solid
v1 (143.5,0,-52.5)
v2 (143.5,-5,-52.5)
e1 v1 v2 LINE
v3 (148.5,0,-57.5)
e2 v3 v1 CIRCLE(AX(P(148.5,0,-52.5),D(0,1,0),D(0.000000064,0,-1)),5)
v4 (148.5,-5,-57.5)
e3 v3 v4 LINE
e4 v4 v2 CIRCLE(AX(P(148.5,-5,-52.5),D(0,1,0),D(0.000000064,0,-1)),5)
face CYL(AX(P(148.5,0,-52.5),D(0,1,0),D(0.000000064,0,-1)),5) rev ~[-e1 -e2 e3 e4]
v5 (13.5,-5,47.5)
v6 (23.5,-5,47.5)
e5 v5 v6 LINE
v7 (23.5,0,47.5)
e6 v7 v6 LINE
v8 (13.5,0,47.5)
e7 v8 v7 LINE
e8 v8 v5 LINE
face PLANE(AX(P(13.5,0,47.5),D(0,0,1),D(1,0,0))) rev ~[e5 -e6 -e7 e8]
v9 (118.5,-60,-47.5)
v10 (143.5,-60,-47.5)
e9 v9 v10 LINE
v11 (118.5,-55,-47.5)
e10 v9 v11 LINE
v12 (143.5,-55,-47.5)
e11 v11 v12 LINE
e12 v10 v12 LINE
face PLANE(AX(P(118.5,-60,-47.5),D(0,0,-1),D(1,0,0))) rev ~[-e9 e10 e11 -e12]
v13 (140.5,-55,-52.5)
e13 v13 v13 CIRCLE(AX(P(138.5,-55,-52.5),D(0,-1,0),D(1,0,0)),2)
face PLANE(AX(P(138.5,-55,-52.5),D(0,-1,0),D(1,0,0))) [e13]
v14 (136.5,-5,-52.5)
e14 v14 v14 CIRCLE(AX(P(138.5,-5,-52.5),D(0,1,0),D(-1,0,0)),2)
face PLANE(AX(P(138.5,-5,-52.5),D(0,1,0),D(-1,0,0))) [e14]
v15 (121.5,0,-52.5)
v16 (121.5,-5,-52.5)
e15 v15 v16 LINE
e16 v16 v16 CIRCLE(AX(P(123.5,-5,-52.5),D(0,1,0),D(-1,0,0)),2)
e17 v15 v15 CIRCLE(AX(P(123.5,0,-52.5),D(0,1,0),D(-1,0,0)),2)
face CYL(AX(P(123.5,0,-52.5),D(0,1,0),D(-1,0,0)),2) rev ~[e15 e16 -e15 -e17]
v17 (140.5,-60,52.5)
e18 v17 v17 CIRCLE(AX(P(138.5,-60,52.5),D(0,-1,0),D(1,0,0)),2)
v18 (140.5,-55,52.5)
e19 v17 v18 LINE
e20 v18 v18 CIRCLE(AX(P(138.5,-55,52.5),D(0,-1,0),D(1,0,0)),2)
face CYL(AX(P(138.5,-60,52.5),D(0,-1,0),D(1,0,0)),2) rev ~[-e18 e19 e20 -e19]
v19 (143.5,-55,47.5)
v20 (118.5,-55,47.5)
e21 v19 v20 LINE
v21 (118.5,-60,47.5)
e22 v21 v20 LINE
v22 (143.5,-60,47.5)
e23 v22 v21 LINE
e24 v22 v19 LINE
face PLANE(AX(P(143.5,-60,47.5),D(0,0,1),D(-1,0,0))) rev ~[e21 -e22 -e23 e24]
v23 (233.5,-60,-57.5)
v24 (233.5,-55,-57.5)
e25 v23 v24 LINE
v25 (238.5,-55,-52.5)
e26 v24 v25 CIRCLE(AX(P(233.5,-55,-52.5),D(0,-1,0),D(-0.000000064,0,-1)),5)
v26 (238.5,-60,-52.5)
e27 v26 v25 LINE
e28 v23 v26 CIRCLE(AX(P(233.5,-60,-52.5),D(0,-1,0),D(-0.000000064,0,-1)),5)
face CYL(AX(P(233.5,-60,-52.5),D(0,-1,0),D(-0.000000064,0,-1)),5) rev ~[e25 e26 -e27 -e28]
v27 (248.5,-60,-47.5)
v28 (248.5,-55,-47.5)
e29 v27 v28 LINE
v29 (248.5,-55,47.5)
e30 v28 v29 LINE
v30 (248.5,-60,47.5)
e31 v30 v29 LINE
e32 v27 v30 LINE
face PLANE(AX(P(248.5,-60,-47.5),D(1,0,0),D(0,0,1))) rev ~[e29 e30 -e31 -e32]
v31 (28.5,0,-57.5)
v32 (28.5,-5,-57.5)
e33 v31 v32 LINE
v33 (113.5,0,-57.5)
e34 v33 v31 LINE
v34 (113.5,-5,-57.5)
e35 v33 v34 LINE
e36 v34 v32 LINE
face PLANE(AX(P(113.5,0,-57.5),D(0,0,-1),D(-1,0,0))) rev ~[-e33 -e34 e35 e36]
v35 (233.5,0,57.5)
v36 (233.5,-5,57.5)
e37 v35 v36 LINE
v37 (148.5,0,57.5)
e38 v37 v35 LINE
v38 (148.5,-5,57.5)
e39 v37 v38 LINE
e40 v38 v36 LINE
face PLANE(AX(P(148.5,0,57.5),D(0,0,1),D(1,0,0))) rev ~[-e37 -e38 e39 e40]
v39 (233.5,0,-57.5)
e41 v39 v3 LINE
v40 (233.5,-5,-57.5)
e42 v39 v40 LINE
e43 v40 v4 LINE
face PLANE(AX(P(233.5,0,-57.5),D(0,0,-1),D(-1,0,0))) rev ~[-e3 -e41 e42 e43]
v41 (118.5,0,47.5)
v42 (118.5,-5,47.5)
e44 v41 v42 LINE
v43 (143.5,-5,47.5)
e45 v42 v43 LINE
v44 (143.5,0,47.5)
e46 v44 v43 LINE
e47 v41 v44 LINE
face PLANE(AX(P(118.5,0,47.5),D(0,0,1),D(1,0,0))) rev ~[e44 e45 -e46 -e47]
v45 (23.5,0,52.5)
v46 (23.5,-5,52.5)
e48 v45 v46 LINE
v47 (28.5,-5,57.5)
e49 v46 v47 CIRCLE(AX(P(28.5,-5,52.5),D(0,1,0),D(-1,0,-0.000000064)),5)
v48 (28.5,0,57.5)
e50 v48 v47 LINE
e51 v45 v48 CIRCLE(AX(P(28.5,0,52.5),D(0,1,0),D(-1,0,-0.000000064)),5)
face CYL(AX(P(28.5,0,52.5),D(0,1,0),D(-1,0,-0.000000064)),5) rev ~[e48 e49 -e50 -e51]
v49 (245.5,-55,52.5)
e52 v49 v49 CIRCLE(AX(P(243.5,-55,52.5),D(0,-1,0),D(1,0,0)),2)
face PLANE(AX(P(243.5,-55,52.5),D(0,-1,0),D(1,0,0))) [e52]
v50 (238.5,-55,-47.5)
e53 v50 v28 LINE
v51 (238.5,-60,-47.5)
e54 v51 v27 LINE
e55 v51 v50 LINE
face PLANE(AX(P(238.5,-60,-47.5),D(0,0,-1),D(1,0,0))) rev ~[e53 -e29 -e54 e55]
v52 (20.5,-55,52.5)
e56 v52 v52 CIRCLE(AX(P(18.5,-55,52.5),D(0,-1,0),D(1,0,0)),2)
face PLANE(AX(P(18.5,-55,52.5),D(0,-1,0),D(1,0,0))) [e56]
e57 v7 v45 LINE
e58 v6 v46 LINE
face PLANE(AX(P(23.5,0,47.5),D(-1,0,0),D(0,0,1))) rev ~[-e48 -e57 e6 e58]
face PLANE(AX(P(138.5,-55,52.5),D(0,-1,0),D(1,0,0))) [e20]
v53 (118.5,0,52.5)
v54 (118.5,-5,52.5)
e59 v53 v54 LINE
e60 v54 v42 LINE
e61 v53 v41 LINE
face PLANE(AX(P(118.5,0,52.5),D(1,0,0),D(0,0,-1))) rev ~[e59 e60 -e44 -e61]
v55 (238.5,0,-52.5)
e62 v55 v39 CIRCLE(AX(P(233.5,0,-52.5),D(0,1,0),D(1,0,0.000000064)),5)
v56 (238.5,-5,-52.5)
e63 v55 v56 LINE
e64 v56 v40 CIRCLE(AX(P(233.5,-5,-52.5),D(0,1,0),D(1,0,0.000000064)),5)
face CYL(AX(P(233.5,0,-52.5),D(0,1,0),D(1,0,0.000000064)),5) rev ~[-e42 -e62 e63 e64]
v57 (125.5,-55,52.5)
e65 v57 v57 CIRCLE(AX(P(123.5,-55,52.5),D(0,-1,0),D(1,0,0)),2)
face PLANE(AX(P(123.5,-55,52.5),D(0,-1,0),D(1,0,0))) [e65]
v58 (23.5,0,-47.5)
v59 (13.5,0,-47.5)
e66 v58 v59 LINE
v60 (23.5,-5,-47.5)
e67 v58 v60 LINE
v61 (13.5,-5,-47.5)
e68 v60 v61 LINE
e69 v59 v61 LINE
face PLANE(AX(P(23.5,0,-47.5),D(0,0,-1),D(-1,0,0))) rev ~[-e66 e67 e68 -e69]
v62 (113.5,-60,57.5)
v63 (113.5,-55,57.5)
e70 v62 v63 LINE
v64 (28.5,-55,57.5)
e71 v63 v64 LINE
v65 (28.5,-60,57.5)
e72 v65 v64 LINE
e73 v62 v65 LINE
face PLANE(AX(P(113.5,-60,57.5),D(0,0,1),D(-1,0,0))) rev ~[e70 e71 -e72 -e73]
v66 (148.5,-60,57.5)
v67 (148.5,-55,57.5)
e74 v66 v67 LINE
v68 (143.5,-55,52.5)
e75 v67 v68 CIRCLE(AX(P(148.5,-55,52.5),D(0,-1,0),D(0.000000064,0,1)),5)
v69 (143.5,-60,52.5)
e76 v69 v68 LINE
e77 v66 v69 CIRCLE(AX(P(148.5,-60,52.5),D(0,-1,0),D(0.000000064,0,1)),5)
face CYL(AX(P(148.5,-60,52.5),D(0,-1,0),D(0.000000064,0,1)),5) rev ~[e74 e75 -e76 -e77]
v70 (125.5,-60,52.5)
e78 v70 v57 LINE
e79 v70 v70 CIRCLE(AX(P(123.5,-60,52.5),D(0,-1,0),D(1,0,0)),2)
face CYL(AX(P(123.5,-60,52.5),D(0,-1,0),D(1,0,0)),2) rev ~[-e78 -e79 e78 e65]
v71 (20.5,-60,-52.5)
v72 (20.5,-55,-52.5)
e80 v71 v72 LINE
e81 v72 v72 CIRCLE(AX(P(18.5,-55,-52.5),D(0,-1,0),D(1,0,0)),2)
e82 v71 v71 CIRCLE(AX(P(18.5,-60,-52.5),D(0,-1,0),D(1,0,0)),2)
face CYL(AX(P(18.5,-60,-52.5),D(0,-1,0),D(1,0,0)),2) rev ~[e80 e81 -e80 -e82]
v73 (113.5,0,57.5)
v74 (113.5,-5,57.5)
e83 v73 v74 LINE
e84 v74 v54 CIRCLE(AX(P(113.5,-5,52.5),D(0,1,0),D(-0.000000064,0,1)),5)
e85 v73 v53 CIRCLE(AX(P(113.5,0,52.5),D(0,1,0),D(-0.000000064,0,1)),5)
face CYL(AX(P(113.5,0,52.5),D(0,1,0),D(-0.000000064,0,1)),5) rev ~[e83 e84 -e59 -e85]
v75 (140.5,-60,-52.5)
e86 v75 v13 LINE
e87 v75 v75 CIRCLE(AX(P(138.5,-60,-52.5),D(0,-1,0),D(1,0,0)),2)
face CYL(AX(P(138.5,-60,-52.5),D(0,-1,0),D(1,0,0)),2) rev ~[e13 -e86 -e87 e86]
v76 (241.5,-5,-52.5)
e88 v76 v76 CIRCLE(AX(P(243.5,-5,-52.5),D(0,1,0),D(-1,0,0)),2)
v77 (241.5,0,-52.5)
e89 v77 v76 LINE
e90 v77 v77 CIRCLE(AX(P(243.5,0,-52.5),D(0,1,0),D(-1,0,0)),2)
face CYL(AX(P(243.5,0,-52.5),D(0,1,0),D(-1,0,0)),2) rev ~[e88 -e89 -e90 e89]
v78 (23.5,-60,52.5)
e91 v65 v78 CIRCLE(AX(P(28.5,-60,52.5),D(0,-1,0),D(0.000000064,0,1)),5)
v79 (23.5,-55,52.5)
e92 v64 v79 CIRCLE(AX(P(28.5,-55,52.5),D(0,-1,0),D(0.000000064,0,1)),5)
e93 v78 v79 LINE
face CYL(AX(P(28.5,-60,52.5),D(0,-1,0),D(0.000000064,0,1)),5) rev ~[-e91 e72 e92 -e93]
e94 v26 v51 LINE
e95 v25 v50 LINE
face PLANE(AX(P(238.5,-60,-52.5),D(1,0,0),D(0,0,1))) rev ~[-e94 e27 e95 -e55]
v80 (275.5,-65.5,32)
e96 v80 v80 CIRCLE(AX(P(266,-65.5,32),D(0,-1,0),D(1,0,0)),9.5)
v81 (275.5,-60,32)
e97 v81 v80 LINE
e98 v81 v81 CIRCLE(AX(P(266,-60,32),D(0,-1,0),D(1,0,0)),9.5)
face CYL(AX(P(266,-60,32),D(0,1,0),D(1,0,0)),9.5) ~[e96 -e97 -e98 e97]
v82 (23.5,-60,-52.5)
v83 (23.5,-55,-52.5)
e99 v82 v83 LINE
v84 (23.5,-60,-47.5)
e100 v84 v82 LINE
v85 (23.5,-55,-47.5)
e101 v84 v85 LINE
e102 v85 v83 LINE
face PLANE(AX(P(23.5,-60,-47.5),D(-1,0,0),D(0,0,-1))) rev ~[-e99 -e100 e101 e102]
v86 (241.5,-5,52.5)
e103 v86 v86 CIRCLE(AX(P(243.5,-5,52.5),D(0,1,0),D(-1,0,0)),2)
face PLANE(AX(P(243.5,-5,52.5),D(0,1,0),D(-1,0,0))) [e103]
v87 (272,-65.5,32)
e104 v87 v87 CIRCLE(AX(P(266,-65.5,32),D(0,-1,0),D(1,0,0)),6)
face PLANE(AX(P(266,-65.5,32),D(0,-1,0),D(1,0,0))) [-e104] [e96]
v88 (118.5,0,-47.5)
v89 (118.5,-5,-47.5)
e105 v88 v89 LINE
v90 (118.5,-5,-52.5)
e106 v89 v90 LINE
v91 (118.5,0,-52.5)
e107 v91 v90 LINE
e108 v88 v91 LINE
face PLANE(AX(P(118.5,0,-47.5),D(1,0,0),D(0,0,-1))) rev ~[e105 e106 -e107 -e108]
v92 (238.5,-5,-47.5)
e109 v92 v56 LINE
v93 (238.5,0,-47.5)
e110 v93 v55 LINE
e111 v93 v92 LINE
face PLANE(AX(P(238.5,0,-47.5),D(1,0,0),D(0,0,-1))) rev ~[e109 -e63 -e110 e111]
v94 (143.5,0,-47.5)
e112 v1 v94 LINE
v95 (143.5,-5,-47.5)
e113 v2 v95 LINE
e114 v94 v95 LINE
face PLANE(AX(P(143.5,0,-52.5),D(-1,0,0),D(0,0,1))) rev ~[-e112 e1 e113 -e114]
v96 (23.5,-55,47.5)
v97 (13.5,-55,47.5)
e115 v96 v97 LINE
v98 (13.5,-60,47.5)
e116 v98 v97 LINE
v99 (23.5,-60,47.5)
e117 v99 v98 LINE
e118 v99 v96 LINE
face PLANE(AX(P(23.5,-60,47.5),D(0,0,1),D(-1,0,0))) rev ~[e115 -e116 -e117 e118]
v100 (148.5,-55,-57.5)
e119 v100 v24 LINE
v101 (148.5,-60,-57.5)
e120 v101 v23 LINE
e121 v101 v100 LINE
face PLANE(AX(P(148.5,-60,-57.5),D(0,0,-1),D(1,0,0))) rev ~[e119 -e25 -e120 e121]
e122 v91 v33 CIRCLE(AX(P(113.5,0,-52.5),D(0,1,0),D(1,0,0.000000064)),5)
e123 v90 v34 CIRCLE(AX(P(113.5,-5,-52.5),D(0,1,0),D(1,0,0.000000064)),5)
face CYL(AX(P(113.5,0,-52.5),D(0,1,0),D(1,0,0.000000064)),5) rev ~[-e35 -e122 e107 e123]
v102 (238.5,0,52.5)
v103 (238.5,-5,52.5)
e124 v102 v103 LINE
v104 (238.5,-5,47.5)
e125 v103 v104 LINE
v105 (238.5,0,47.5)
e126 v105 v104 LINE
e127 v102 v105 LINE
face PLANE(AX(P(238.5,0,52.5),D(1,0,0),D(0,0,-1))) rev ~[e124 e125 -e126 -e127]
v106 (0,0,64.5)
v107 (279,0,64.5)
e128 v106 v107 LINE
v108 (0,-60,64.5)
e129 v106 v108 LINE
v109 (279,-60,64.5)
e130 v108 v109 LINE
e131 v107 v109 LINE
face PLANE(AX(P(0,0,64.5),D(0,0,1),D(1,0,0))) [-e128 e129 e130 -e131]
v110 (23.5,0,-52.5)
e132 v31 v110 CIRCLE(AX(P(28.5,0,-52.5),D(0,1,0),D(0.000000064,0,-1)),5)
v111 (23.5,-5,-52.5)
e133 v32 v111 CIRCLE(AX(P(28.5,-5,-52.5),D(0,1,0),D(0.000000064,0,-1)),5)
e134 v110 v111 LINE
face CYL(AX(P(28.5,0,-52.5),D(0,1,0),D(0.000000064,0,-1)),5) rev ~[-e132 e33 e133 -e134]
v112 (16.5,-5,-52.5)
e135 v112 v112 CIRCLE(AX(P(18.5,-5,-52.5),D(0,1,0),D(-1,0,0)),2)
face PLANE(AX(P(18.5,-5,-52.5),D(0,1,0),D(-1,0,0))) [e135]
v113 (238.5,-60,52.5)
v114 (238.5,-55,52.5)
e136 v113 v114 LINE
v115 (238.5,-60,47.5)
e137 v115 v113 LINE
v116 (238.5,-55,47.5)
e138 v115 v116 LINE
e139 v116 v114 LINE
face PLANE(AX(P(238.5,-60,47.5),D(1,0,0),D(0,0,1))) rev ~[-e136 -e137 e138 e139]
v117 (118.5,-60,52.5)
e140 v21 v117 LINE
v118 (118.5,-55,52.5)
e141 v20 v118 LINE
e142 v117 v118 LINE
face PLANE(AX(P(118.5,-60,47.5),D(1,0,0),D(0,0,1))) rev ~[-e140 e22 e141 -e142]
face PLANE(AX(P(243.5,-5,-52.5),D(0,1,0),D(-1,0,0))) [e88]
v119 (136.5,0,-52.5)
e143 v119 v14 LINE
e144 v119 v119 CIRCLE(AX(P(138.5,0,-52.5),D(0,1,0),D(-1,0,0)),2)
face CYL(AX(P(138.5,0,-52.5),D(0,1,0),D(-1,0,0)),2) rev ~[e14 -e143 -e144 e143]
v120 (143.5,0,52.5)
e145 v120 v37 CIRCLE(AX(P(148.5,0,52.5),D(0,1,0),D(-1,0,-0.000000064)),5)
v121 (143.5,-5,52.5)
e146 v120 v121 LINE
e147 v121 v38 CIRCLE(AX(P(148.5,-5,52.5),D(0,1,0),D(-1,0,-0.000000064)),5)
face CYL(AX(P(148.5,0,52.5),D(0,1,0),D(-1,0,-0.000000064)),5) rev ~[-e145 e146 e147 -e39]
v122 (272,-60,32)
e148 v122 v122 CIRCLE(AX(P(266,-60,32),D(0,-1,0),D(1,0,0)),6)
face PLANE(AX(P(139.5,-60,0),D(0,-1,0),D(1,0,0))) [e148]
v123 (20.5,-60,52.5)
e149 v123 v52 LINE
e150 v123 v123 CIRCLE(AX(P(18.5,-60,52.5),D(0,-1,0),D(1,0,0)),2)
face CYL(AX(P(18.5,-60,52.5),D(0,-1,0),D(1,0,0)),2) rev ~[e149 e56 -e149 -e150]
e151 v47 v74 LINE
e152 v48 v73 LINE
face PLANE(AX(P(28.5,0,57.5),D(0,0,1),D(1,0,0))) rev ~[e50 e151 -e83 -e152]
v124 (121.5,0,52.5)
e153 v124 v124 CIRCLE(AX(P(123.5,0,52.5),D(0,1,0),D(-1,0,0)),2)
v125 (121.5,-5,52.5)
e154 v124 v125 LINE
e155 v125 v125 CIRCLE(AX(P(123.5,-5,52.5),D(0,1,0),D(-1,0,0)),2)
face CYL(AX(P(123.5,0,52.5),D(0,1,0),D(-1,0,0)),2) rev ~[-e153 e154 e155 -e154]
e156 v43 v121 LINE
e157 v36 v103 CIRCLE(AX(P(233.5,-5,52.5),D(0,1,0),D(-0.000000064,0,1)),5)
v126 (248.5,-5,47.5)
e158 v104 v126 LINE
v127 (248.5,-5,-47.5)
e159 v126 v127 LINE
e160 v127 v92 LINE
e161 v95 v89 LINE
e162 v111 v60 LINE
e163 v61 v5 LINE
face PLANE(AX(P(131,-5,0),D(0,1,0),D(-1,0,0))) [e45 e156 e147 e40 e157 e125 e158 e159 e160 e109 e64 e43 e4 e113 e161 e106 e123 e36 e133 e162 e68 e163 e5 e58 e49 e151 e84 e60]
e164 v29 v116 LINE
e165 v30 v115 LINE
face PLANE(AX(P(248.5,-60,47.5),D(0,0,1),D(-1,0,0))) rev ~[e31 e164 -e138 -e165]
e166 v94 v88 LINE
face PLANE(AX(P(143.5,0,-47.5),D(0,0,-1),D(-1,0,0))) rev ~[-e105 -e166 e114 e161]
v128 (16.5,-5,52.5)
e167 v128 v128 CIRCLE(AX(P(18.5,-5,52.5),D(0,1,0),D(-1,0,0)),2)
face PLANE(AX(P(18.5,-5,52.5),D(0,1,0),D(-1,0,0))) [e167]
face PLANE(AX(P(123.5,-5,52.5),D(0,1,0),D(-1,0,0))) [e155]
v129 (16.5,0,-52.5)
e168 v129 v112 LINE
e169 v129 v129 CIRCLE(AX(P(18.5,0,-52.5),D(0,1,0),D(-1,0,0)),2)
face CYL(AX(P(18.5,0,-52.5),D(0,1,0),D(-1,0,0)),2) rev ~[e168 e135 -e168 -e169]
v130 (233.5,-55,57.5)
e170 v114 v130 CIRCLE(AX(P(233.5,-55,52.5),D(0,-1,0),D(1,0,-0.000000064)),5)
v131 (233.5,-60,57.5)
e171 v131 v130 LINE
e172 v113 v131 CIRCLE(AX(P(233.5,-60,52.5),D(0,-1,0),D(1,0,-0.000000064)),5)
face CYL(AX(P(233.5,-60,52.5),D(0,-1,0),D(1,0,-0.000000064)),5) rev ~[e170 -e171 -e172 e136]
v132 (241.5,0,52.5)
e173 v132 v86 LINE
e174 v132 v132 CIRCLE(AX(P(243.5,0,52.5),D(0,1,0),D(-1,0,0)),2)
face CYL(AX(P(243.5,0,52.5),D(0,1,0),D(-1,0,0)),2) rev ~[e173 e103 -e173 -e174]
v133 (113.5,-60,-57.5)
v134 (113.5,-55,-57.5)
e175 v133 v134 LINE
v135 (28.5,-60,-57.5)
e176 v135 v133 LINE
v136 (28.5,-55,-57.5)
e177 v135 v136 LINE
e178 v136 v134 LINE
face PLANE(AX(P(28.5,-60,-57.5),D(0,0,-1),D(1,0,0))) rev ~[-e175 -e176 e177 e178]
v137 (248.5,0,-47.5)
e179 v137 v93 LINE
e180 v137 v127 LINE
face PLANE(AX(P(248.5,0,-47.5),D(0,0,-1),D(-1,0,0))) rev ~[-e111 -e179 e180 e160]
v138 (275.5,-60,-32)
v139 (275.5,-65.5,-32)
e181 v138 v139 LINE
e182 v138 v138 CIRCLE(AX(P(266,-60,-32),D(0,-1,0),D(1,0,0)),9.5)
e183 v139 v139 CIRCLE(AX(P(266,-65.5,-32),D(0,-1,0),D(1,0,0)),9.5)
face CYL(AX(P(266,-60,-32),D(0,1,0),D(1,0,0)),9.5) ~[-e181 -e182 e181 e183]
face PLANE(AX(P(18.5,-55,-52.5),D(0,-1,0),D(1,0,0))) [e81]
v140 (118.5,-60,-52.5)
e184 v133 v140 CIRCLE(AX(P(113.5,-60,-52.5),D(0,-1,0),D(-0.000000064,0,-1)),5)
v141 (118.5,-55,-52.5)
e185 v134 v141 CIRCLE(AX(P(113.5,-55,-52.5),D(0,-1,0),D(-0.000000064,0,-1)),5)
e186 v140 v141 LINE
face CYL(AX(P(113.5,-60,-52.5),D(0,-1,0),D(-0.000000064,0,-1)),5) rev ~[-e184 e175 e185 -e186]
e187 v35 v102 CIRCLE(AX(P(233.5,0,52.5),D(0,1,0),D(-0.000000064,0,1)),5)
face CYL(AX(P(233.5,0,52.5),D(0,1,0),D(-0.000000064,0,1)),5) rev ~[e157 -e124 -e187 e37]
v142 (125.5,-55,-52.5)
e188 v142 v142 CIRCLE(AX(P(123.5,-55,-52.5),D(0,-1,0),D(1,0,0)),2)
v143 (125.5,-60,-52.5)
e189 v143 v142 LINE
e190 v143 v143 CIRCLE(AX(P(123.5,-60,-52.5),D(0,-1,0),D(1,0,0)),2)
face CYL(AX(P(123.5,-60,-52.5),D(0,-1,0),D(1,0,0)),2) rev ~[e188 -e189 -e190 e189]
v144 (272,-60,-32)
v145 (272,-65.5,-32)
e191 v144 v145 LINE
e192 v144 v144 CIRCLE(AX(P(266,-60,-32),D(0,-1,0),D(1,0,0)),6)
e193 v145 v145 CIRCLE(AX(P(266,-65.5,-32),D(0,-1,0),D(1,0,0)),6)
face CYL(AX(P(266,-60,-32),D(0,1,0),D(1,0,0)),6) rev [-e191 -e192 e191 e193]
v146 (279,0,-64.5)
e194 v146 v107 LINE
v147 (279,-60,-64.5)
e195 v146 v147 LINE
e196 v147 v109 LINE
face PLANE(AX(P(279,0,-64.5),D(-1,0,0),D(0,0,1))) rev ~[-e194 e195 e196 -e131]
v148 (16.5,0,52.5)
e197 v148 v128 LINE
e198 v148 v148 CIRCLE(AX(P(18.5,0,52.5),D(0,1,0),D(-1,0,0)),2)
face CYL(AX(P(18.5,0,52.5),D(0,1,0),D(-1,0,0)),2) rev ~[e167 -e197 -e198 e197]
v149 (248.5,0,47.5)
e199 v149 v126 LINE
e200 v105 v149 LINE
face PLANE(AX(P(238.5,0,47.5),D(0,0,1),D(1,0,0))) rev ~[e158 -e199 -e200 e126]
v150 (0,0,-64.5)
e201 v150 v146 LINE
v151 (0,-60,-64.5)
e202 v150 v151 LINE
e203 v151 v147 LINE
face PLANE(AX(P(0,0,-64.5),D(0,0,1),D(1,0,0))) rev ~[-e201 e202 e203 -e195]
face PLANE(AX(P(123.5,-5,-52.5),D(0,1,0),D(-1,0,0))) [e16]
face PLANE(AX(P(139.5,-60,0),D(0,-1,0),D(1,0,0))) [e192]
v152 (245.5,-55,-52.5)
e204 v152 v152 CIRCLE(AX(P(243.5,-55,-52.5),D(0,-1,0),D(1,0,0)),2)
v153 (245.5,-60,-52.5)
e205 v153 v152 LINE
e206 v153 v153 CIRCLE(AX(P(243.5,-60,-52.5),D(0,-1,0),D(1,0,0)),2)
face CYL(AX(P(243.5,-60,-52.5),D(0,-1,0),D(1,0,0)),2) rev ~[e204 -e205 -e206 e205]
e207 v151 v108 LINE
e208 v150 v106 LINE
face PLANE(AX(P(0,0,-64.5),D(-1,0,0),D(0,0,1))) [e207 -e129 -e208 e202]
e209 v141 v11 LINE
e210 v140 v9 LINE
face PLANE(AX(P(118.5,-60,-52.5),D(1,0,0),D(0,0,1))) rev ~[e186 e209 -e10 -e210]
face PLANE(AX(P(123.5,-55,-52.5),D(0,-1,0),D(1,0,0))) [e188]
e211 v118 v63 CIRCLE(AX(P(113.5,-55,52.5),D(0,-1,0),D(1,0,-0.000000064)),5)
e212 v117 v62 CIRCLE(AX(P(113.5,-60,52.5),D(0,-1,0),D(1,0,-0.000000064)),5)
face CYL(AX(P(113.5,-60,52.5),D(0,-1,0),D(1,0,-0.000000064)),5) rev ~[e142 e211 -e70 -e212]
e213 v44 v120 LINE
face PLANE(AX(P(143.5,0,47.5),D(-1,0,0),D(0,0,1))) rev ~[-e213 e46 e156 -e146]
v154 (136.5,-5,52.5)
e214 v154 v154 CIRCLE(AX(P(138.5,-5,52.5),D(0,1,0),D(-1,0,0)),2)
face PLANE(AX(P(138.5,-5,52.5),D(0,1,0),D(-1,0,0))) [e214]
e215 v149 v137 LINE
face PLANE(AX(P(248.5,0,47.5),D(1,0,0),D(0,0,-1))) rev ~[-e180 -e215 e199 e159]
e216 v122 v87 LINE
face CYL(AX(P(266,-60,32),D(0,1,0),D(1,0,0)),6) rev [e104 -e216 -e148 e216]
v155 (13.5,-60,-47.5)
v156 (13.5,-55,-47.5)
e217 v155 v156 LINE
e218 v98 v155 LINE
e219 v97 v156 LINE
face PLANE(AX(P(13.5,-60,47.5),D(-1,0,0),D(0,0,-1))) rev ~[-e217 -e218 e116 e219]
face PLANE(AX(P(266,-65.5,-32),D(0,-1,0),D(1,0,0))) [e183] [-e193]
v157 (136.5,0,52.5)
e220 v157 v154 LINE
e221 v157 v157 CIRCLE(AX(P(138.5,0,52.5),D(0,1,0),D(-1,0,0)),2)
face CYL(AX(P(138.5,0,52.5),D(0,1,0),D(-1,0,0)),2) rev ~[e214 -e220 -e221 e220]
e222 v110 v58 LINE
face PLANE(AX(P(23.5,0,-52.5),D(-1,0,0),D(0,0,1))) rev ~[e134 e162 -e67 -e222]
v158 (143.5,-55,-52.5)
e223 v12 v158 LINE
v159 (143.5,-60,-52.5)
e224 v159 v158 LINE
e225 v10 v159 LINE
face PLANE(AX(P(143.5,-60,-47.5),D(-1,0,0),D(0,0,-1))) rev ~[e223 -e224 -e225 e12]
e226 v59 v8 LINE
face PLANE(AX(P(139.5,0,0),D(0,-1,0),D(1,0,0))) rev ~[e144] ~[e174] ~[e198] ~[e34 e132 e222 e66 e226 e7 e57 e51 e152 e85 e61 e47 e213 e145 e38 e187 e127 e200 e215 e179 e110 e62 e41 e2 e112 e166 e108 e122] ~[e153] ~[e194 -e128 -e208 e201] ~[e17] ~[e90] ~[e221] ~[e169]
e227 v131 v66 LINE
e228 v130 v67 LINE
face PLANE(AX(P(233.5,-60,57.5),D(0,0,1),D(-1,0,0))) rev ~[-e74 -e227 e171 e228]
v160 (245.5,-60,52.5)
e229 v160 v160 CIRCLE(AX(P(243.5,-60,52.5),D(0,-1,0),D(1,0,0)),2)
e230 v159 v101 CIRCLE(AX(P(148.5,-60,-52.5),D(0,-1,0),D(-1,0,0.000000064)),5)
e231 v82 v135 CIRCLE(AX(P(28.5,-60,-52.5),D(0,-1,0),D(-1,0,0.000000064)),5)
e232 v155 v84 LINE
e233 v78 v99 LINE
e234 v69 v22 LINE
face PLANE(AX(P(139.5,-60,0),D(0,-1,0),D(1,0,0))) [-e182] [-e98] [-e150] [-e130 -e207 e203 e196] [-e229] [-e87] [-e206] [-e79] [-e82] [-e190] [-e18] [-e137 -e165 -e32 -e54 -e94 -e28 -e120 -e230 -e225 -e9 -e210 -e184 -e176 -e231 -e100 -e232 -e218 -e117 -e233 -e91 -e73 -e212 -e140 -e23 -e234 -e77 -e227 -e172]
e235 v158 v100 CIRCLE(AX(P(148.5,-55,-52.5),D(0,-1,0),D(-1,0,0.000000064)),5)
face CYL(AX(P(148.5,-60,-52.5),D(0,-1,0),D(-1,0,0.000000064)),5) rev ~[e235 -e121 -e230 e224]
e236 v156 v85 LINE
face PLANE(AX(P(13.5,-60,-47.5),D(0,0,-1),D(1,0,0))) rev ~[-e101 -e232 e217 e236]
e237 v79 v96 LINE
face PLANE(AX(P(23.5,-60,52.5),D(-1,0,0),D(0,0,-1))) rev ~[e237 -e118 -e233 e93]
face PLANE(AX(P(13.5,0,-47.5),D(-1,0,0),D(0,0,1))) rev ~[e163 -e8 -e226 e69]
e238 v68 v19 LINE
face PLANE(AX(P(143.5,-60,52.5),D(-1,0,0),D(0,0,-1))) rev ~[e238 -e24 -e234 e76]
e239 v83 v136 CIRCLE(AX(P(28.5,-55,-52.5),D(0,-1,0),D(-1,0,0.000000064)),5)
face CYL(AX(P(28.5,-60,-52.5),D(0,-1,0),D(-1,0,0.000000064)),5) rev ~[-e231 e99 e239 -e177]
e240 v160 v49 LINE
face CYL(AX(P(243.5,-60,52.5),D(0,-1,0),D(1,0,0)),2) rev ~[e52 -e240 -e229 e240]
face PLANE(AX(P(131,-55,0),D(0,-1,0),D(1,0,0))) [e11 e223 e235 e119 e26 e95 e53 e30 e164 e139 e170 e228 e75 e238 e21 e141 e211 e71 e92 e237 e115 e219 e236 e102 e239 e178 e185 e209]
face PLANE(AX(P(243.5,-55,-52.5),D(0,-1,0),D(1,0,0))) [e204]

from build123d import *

# Parameters (mm, degrees)
F0_W     = 279
F0_H     = 129
F1_DEPTH = 60
F2_R     = 9.5
F2_R_2   = 6
F3_DEPTH = 5.5
F4_R     = 2
F5_DEPTH = 5
F6_R     = 2
F7_DEPTH = 5


with BuildPart() as f1:
    # F0 (on Front) → F1 (new body)
    with BuildSketch(Plane.XZ):
        with Locations((139.5, 0)):
            Rectangle(F0_W, F0_H)
    extrude(amount=F1_DEPTH)

    # F2 (on face) → F3 (join)
    with BuildSketch(Plane.XZ.offset(60)):
        with Locations((266, -32)):
            Circle(F2_R)
        with Locations((266, -32)):
            Circle(F2_R_2, mode=Mode.SUBTRACT)
        with Locations((266, 32)):
            Circle(F2_R)
        with Locations((266, 32)):
            Circle(F2_R_2, mode=Mode.SUBTRACT)
    extrude(amount=F3_DEPTH)

    # F4 (on face) → F5 (cut)
    with BuildSketch(Plane.XZ.offset(60)):
        with Locations((18.5, 52.5)):
            Circle(F4_R)
        with Locations((123.5, 52.5)):
            Circle(F4_R)
        with Locations((138.5, 52.5)):
            Circle(F4_R)
        with Locations((243.5, 52.5)):
            Circle(F4_R)
        with BuildLine():
            Line((23.5, 47.5), (13.5, 47.5))
            Line((13.5, 47.5), (13.5, 0))
            Line((13.5, 0), (13.5, -47.5))
            Line((13.5, -47.5), (23.5, -47.5))
            Line((23.5, -47.5), (23.5, -52.5))
            ThreePointArc((23.5, -52.5), (24.964466, -56.035534), (28.5, -57.5))
            Line((28.5, -57.5), (113.5, -57.5))
            ThreePointArc((113.5, -57.5), (117.035534, -56.035534), (118.5, -52.5))
            Line((118.5, -52.5), (118.5, -47.5))
            Line((118.5, -47.5), (143.5, -47.5))
            Line((143.5, -47.5), (143.5, -52.5))
            ThreePointArc((143.5, -52.5), (144.964466, -56.035534), (148.5, -57.5))
            Line((148.5, -57.5), (233.5, -57.5))
            ThreePointArc((233.5, -57.5), (237.035534, -56.035534), (238.5, -52.5))
            Line((238.5, -52.5), (238.5, -47.5))
            Line((238.5, -47.5), (248.5, -47.5))
            Line((248.5, -47.5), (248.5, 0))
            Line((248.5, 0), (248.5, 47.5))
            Line((248.5, 47.5), (238.5, 47.5))
            Line((238.5, 47.5), (238.5, 52.5))
            ThreePointArc((238.5, 52.5), (237.035534, 56.035534), (233.5, 57.5))
            Line((233.5, 57.5), (148.5, 57.5))
            ThreePointArc((148.5, 57.5), (144.964466, 56.035534), (143.5, 52.5))
            Line((143.5, 52.5), (143.5, 47.5))
            Line((143.5, 47.5), (118.5, 47.5))
            Line((118.5, 47.5), (118.5, 52.5))
            ThreePointArc((118.5, 52.5), (117.035534, 56.035534), (113.5, 57.5))
            Line((113.5, 57.5), (28.5, 57.5))
            ThreePointArc((28.5, 57.5), (24.964466, 56.035534), (23.5, 52.5))
            Line((23.5, 52.5), (23.5, 47.5))
        make_face()
        with Locations((243.5, -52.5)):
            Circle(F4_R)
        with Locations((138.5, -52.5)):
            Circle(F4_R)
        with Locations((123.5, -52.5)):
            Circle(F4_R)
        with Locations((18.5, -52.5)):
            Circle(F4_R)
    extrude(amount=-F5_DEPTH, mode=Mode.SUBTRACT)

    # F6 (on face) → F7 (cut)
    with BuildSketch(Plane(origin=(0, 0, 0), x_dir=(-1, 0, 0), z_dir=(0, 1, 0))):
        with Locations((-243.5, 52.5)):
            Circle(F6_R)
        with Locations((-138.5, 52.5)):
            Circle(F6_R)
        with Locations((-123.5, 52.5)):
            Circle(F6_R)
        with Locations((-18.5, 52.5)):
            Circle(F6_R)
        with BuildLine():
            Line((-238.5, 47.5), (-248.5, 47.5))
            Line((-248.5, 47.5), (-248.5, 0))
            Line((-248.5, 0), (-248.5, -47.5))
            Line((-248.5, -47.5), (-238.5, -47.5))
            Line((-238.5, -47.5), (-238.5, -52.5))
            ThreePointArc((-238.5, -52.5), (-237.035534, -56.035534), (-233.5, -57.5))
            Line((-233.5, -57.5), (-148.5, -57.5))
            ThreePointArc((-148.5, -57.5), (-144.964466, -56.035534), (-143.5, -52.5))
            Line((-143.5, -52.5), (-143.5, -47.5))
            Line((-143.5, -47.5), (-118.5, -47.5))
            Line((-118.5, -47.5), (-118.5, -52.5))
            ThreePointArc((-118.5, -52.5), (-117.035534, -56.035534), (-113.5, -57.5))
            Line((-113.5, -57.5), (-28.5, -57.5))
            ThreePointArc((-28.5, -57.5), (-24.964466, -56.035534), (-23.5, -52.5))
            Line((-23.5, -52.5), (-23.5, -47.5))
            Line((-23.5, -47.5), (-13.5, -47.5))
            Line((-13.5, -47.5), (-13.5, 0))
            Line((-13.5, 0), (-13.5, 47.5))
            Line((-13.5, 47.5), (-23.5, 47.5))
            Line((-23.5, 47.5), (-23.5, 52.5))
            ThreePointArc((-23.5, 52.5), (-24.964466, 56.035534), (-28.5, 57.5))
            Line((-28.5, 57.5), (-113.5, 57.5))
            ThreePointArc((-113.5, 57.5), (-117.035534, 56.035534), (-118.5, 52.5))
            Line((-118.5, 52.5), (-118.5, 47.5))
            Line((-118.5, 47.5), (-143.5, 47.5))
            Line((-143.5, 47.5), (-143.5, 52.5))
            ThreePointArc((-143.5, 52.5), (-144.964466, 56.035534), (-148.5, 57.5))
            Line((-148.5, 57.5), (-233.5, 57.5))
            ThreePointArc((-233.5, 57.5), (-237.035534, 56.035534), (-238.5, 52.5))
            Line((-238.5, 52.5), (-238.5, 47.5))
        make_face()
        with Locations((-18.5, -52.5)):
            Circle(F6_R)
        with Locations((-123.5, -52.5)):
            Circle(F6_R)
        with Locations((-138.5, -52.5)):
            Circle(F6_R)
        with Locations((-243.5, -52.5)):
            Circle(F6_R)
    extrude(amount=-F7_DEPTH, mode=Mode.SUBTRACT)


solid = f1.part
